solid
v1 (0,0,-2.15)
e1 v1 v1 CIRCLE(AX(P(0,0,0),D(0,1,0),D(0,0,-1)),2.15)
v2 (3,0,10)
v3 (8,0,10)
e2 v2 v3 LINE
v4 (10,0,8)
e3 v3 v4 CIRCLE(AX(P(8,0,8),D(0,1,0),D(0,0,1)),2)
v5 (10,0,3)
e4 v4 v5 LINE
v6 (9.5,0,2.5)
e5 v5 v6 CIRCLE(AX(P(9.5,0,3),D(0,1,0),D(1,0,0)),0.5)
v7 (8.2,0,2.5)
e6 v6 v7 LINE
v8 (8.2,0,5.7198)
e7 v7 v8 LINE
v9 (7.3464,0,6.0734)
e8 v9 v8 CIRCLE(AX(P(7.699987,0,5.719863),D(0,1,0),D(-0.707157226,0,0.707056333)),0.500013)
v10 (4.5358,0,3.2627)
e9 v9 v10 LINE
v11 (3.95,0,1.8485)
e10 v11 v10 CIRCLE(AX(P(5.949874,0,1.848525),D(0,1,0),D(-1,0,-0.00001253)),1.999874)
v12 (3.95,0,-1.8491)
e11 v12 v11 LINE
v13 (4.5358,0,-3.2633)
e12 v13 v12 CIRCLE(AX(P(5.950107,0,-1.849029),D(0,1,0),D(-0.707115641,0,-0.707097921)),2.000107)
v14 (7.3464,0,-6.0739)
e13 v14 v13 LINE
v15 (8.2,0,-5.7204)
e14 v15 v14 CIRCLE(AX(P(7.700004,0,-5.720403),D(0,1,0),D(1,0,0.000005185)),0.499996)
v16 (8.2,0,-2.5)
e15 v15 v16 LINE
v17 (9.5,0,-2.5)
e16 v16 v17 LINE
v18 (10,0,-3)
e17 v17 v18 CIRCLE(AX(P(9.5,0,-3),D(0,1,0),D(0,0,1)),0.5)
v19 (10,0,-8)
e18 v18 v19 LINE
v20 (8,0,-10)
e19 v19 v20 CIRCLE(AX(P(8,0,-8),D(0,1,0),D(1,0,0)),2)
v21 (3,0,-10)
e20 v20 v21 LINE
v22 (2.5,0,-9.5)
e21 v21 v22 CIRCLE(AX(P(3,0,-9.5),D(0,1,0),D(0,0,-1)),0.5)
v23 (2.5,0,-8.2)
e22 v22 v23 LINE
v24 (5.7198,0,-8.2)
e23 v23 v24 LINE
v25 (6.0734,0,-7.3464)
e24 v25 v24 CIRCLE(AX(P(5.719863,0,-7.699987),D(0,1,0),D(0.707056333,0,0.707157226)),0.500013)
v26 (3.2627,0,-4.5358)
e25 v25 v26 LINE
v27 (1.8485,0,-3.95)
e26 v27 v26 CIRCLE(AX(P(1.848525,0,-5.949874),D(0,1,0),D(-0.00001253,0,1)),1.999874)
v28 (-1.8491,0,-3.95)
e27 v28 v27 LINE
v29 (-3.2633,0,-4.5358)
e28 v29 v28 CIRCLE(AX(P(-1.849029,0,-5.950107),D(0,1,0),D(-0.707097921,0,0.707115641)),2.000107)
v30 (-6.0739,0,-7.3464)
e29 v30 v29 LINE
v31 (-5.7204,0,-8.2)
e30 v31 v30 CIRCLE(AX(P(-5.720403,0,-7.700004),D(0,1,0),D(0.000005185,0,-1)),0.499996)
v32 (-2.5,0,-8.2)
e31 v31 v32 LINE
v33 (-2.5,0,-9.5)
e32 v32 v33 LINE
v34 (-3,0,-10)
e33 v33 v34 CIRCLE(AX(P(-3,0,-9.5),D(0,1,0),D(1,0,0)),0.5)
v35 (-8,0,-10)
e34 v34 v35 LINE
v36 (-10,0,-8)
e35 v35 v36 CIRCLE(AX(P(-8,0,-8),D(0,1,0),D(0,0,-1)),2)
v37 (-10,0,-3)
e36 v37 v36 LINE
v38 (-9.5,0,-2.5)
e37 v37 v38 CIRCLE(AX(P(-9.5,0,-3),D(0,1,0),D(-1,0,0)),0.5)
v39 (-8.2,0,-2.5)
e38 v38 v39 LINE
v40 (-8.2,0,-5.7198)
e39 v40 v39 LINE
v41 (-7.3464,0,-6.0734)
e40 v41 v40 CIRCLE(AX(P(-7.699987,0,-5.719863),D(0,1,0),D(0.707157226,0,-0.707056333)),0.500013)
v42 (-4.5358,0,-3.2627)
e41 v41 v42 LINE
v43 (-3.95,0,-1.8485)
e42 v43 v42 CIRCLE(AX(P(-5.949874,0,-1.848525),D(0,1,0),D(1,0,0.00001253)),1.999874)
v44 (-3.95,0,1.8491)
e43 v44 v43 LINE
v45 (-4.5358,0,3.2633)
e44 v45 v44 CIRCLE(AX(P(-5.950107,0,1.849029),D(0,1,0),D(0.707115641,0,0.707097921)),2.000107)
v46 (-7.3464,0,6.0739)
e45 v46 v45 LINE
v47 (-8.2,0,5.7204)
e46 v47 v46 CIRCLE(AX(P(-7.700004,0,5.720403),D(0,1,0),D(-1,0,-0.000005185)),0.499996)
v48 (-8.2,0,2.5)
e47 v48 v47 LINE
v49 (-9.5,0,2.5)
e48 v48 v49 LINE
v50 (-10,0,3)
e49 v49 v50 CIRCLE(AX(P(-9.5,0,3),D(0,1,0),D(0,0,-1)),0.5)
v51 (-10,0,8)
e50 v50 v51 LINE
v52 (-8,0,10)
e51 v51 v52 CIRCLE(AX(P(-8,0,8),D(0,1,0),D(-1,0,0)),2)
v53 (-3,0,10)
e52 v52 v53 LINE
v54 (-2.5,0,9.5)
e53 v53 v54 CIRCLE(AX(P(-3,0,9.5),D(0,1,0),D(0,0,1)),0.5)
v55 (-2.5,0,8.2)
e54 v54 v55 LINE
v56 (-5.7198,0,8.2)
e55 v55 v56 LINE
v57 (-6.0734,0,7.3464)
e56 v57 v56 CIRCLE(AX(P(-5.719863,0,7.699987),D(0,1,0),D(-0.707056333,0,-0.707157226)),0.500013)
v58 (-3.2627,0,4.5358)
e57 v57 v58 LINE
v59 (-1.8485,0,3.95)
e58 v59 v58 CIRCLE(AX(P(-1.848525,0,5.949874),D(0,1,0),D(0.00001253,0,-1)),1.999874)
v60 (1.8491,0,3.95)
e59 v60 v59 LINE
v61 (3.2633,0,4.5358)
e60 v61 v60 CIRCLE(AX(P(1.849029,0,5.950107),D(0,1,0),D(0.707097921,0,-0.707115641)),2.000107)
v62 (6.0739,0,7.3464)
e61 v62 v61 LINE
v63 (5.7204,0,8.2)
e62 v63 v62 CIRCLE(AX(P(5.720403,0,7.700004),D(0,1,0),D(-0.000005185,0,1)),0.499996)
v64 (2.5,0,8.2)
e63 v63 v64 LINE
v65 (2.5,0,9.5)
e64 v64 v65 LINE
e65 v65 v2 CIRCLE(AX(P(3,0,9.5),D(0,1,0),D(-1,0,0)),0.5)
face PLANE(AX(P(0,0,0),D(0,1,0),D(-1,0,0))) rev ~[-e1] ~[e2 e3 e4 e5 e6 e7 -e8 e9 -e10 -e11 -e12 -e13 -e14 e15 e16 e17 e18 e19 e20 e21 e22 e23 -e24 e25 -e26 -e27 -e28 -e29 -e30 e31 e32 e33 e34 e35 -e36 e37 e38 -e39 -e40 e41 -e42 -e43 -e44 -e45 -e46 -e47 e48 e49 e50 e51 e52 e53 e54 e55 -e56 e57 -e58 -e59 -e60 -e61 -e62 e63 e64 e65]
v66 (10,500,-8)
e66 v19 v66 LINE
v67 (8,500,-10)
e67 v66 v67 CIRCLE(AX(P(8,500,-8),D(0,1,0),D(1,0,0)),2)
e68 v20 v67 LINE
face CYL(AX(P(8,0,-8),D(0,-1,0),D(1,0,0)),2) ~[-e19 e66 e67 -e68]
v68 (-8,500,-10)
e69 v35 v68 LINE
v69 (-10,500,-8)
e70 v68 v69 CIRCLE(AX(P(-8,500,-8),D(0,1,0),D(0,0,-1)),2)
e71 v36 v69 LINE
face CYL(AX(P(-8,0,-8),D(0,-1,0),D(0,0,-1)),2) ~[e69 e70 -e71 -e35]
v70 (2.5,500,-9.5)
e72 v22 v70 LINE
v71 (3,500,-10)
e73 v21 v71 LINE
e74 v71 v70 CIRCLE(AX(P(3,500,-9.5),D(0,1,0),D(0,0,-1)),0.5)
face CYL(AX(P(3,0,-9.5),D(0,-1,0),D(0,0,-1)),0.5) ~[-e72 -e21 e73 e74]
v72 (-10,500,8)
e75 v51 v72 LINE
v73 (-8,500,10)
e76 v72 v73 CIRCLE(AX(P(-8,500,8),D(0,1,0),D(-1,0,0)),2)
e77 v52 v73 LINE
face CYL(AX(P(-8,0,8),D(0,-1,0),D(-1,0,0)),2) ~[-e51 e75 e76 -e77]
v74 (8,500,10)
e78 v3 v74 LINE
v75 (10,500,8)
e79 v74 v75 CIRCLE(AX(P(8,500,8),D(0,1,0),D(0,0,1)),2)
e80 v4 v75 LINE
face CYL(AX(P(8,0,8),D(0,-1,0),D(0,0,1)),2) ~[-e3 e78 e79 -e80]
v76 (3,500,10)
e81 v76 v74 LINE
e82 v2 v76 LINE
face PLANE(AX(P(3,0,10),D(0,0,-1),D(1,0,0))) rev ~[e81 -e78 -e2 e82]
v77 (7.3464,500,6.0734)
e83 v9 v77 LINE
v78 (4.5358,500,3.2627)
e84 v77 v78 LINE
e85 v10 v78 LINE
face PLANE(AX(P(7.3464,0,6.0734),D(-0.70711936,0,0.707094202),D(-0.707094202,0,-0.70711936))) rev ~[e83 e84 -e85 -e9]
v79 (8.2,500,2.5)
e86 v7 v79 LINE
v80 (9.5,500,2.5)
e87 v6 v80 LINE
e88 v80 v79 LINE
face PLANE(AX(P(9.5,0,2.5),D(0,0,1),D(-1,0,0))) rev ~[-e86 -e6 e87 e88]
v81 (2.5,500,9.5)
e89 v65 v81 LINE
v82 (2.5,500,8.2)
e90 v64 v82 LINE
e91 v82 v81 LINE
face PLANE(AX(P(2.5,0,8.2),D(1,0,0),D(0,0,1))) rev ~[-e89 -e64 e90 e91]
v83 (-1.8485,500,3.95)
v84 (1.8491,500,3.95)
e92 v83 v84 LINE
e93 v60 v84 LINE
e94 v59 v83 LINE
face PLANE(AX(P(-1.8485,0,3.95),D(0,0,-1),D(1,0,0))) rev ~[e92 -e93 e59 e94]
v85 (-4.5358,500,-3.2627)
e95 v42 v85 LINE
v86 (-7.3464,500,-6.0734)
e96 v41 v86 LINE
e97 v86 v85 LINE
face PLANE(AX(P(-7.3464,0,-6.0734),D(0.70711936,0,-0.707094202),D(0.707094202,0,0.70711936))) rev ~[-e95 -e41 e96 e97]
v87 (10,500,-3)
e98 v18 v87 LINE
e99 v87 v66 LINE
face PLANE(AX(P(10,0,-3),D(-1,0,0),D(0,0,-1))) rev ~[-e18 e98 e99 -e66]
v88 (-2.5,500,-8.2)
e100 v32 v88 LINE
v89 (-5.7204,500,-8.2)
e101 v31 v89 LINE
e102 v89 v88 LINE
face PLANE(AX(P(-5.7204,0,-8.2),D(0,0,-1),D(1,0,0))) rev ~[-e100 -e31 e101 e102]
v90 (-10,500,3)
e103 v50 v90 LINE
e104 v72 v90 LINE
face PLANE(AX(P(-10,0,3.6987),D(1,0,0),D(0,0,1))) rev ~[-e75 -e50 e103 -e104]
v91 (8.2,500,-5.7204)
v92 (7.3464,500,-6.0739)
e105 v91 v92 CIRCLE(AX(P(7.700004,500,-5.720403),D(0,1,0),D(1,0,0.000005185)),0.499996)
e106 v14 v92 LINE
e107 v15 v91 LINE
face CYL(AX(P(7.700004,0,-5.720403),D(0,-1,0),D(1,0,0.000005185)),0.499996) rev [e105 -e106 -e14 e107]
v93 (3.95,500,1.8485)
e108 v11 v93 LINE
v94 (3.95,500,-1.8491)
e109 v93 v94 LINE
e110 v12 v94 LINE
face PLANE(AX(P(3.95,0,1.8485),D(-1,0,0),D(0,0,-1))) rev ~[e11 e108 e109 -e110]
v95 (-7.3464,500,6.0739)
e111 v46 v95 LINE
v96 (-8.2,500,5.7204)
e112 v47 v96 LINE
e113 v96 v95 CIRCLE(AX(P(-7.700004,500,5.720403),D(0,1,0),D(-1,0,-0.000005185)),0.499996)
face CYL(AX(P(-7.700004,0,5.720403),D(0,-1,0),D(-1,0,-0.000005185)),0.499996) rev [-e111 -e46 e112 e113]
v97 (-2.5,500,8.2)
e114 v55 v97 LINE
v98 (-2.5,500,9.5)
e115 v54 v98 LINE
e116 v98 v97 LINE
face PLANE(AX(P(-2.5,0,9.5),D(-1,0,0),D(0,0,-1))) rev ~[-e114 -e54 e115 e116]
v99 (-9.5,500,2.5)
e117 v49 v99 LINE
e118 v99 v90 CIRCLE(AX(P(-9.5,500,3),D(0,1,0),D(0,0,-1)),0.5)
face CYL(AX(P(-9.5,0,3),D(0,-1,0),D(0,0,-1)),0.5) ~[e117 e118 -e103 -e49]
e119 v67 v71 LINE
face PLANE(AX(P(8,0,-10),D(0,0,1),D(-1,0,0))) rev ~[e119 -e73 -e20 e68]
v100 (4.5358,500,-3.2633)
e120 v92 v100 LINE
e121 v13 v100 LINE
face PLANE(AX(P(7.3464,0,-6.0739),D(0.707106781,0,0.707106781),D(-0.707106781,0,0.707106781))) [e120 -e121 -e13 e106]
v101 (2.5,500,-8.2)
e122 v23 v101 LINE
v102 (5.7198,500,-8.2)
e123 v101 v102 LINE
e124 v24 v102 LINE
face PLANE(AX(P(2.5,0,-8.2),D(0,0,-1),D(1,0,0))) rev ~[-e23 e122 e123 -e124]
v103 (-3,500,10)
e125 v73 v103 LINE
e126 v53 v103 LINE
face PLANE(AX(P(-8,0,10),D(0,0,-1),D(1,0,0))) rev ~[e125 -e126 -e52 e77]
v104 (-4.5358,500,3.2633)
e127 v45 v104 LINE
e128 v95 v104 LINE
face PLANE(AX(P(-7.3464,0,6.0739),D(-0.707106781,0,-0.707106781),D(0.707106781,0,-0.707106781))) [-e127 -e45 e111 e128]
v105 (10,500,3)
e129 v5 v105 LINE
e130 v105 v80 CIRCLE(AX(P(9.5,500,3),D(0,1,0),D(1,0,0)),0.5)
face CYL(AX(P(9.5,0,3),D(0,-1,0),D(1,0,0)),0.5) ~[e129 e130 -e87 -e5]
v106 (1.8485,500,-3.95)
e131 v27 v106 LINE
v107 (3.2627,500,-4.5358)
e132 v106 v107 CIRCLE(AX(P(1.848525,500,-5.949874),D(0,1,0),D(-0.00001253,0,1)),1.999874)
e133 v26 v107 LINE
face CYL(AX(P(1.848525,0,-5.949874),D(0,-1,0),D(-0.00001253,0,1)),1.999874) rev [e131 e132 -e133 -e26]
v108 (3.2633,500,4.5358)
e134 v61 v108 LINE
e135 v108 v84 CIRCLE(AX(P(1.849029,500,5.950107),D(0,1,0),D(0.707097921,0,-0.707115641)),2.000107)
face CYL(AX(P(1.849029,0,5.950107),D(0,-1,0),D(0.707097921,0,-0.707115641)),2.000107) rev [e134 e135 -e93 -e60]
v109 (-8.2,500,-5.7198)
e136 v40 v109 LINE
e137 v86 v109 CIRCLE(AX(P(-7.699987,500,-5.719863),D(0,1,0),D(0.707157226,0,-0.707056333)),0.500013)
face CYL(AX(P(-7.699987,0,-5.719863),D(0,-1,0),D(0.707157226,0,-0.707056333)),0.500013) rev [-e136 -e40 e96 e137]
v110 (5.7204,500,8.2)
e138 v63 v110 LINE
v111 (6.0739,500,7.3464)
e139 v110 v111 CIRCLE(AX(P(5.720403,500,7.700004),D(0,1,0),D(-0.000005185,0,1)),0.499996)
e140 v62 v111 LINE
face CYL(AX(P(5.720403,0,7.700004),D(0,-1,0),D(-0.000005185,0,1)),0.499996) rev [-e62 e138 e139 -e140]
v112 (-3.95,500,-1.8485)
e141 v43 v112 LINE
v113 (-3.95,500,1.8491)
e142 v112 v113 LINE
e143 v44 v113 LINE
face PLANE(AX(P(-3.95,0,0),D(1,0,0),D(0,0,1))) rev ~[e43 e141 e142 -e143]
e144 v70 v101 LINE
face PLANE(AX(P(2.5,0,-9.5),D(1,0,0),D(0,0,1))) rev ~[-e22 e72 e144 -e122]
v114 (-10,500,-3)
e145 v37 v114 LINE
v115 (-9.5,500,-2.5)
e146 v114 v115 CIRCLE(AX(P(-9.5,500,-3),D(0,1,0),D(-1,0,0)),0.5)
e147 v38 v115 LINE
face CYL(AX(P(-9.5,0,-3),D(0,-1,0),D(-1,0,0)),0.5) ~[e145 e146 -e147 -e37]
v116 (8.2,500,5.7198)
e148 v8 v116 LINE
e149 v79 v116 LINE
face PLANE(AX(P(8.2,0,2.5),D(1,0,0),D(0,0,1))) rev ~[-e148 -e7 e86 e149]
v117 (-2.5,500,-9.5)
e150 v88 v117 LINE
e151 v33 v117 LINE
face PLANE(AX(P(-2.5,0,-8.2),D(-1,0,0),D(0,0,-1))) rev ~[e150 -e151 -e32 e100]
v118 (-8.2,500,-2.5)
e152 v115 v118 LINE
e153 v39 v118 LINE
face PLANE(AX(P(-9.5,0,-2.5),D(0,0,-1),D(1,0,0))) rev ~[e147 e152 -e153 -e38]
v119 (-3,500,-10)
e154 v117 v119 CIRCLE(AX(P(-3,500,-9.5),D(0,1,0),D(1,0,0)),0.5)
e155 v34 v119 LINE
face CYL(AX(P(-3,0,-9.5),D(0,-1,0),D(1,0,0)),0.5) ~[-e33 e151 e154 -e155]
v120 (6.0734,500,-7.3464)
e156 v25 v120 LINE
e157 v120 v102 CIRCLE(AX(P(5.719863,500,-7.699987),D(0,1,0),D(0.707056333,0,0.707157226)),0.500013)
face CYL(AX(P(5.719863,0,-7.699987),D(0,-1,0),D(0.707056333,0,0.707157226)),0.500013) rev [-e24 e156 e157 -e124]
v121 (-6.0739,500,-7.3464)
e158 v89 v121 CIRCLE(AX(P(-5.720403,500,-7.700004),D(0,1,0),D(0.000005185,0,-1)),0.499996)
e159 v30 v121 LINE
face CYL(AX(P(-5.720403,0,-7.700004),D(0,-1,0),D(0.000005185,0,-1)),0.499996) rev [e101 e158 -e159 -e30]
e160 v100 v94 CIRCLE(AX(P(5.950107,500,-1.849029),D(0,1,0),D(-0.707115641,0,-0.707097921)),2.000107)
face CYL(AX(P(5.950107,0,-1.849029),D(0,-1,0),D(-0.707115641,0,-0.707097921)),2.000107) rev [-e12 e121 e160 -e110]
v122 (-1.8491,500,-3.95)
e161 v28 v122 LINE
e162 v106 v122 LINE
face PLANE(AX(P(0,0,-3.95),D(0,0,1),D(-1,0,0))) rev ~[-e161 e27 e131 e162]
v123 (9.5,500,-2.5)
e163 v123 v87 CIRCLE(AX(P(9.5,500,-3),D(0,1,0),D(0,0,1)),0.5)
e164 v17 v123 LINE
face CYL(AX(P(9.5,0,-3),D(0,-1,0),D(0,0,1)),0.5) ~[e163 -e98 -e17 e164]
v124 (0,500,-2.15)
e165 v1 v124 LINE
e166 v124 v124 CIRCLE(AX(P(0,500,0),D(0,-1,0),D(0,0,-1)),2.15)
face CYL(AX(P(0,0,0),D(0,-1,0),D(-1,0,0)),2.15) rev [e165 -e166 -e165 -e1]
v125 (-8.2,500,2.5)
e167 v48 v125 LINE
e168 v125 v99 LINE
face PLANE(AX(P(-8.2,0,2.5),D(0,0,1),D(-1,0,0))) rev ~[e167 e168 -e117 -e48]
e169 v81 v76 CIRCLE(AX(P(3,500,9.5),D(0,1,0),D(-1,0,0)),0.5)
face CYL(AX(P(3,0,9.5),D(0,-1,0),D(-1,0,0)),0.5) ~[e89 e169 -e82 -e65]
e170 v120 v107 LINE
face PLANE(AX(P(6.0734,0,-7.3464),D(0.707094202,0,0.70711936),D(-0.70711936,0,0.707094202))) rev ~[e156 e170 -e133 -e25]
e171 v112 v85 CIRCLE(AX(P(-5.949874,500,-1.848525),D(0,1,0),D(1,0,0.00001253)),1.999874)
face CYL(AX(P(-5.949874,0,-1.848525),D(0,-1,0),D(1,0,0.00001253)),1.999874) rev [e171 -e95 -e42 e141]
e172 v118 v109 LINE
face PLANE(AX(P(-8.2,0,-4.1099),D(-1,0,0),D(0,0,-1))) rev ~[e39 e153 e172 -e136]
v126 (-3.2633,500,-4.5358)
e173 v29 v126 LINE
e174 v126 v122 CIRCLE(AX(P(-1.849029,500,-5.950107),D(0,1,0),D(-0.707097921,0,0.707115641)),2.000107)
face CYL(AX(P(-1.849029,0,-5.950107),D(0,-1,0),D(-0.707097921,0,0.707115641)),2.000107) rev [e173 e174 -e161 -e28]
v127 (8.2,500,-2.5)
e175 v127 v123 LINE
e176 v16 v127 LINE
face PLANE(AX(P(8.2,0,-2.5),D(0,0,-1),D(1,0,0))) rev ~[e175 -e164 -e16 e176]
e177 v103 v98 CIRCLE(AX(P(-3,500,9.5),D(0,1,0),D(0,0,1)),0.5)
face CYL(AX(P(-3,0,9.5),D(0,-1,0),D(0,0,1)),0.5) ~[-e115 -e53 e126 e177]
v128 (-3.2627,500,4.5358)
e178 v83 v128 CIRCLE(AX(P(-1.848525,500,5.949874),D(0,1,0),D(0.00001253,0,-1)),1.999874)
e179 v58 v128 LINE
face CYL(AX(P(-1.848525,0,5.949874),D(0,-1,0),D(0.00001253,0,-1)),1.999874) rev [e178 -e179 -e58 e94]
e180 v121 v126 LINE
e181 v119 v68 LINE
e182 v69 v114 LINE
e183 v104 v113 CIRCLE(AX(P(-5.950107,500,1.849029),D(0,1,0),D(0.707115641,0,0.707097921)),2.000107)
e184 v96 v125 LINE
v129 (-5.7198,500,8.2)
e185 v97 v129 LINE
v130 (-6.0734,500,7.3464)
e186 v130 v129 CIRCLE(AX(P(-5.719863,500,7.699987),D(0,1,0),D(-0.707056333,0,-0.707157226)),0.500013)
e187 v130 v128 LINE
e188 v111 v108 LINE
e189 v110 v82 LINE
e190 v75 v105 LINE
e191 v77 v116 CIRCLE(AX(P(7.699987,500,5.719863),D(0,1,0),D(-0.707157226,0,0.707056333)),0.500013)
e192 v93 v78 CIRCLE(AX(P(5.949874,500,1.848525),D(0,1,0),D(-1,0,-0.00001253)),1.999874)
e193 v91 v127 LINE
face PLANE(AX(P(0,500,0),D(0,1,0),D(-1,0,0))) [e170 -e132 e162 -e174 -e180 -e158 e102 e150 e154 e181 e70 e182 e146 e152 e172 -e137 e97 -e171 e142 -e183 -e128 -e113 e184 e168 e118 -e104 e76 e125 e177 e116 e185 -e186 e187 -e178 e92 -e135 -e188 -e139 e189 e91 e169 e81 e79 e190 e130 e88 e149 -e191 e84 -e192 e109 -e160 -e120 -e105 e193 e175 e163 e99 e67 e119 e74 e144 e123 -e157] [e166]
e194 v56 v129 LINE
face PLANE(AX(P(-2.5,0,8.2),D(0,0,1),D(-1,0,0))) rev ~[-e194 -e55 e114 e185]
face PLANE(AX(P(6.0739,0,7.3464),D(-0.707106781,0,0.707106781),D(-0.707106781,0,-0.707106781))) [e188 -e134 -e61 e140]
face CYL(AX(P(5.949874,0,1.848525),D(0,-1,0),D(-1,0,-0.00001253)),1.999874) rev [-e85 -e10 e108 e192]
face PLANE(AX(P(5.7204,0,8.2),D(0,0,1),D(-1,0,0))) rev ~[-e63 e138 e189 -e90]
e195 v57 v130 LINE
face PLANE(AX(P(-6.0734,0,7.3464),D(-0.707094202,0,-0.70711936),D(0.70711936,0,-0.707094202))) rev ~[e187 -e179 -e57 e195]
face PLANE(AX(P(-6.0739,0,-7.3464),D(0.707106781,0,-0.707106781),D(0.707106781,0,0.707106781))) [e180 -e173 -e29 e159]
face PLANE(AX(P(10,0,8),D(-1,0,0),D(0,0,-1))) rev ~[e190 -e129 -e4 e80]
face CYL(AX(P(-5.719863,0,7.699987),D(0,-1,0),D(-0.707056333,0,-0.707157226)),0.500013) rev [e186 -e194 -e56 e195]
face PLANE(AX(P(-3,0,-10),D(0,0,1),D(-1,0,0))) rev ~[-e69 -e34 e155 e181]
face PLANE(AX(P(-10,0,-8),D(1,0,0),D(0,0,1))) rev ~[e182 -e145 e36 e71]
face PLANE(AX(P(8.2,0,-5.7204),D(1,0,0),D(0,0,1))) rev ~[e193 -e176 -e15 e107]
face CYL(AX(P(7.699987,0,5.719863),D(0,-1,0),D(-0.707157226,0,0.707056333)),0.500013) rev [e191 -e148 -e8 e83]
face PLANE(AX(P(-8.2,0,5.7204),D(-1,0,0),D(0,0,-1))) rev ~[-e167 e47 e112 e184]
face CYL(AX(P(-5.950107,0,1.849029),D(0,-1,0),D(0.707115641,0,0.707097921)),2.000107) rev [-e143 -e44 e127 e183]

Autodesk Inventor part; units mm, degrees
ref_plane "YZ Plane" through (0, 0, 0) normal (1, 0, 0) x (0, 1, 0)
ref_plane "XZ Plane" through (0, 0, 0) normal (0, 1, 0) x (-1, 0, 0)
ref_plane "XY Plane" through (0, 0, 0) normal (0, 0, 1) x (1, 0, 0)
sketch "Sketch1" plane through (0, 0, 0) normal (0, 1, 0) x (-1, 0, 0)
  line L0 (8, 10) -> (3, 10)
  line L1 (10, 3) -> (10, 8)
  line L2 (2.5, 9.5) -> (2.5, 8.2)
  line L3 (2.5, 8.2) -> (5.7198, 8.2)
  line L4 (6.0734, 7.3464) -> (3.2627, 4.5358)
  line L5 (1.8485, 3.95) -> (0, 3.95)
  line L6 (0, 3.95) -> (0, 2.15)
  line L7 (0, 2.15) -> (0, 2.15)
  line L8 (2.15, 0) -> (2.15, 0)
  line L9 (2.15, 0) -> (3.95, 0)
  line L10 (8.2, 5.7204) -> (8.2, 2.5)
  line L11 (8.2, 2.5) -> (9.5, 2.5)
  line L12 (0, 29.0836) -> (0, -4.1523) construction
  line L13 (3.95, 0) -> (3.95, 1.8491)
  line L14 (7.3464, 6.0739) -> (4.5358, 3.2633)
  arc A0 (10, 8) -> (8, 10) centre (8, 8) ccw
  arc A1 (8.2, 5.7204) -> (7.3464, 6.0739) centre (7.7, 5.7204) ccw
  arc A2 (6.0734, 7.3464) -> (5.7198, 8.2) centre (5.7198, 7.7) ccw
  arc A3 (4.5358, 3.2633) -> (3.95, 1.8491) centre (5.95, 1.8491) ccw
  arc A4 (1.8485, 3.95) -> (3.2627, 4.5358) centre (1.8485, 5.95) ccw
  arc A5 (2.15, 0) -> (0, 2.15) centre (0, 0) ccw
  arc A6 (3, 10) -> (2.5, 9.5) centre (3, 9.5) ccw
  arc A7 (9.5, 2.5) -> (10, 3) centre (9.5, 3) ccw
  line L15 (18.5462, 0) -> (-9.9601, 0) construction
  line L16 (-3, 10) -> (-8, 10)
  arc A8 (-2.5, 9.5) -> (-3, 10) centre (-3, 9.5) ccw
  line L17 (-2.5, 8.2) -> (-2.5, 9.5)
  line L18 (-5.7204, 8.2) -> (-2.5, 8.2)
  arc A9 (-5.7204, 8.2) -> (-6.0739, 7.3464) centre (-5.7204, 7.7) ccw
  line L19 (-6.0739, 7.3464) -> (-3.2633, 4.5358)
  arc A10 (-3.2633, 4.5358) -> (-1.8491, 3.95) centre (-1.8491, 5.95) ccw
  line L20 (0, 3.95) -> (-1.8491, 3.95)
  line L21 (0, 2.15) -> (0, 3.95)
  arc A11 (0, 2.15) -> (-2.15, 0) centre (0, 0) ccw
  line L22 (-3.95, 0) -> (-2.15, 0)
  line L23 (-3.95, 1.8485) -> (-3.95, 0)
  arc A12 (-3.95, 1.8485) -> (-4.5358, 3.2627) centre (-5.95, 1.8485) ccw
  line L24 (-7.3464, 6.0734) -> (-4.5358, 3.2627)
  arc A13 (-7.3464, 6.0734) -> (-8.2, 5.7198) centre (-7.7, 5.7198) ccw
  line L25 (-8.2, 2.5) -> (-8.2, 5.7198)
  line L26 (-9.5, 2.5) -> (-8.2, 2.5)
  arc A14 (-10, 3) -> (-9.5, 2.5) centre (-9.5, 3) ccw
  line L27 (-10, 8) -> (-10, 3)
  arc A15 (-8, 10) -> (-10, 8) centre (-8, 8) ccw
  line L28 (-10, -3) -> (-10, -8)
  arc A16 (-9.5, -2.5) -> (-10, -3) centre (-9.5, -3) ccw
  line L29 (-8.2, -2.5) -> (-9.5, -2.5)
  line L30 (-8.2, -5.7204) -> (-8.2, -2.5)
  arc A17 (-8.2, -5.7204) -> (-7.3464, -6.0739) centre (-7.7, -5.7204) ccw
  line L31 (-7.3464, -6.0739) -> (-4.5358, -3.2633)
  arc A18 (-4.5358, -3.2633) -> (-3.95, -1.8491) centre (-5.95, -1.8491) ccw
  line L32 (-3.95, 0) -> (-3.95, -1.8491)
  line L33 (-2.15, 0) -> (-3.95, 0)
  arc A19 (-2.15, 0) -> (0, -2.15) centre (0, 0) ccw
  line L34 (0, -3.95) -> (0, -2.15)
  line L35 (-1.8485, -3.95) -> (0, -3.95)
  arc A20 (-1.8485, -3.95) -> (-3.2627, -4.5358) centre (-1.8485, -5.95) ccw
  line L36 (-6.0734, -7.3464) -> (-3.2627, -4.5358)
  arc A21 (-6.0734, -7.3464) -> (-5.7198, -8.2) centre (-5.7198, -7.7) ccw
  line L37 (-2.5, -8.2) -> (-5.7198, -8.2)
  line L38 (-2.5, -9.5) -> (-2.5, -8.2)
  arc A22 (-3, -10) -> (-2.5, -9.5) centre (-3, -9.5) ccw
  line L39 (-8, -10) -> (-3, -10)
  arc A23 (-10, -8) -> (-8, -10) centre (-8, -8) ccw
  line L40 (3, -10) -> (8, -10)
  arc A24 (2.5, -9.5) -> (3, -10) centre (3, -9.5) ccw
  line L41 (2.5, -8.2) -> (2.5, -9.5)
  line L42 (5.7204, -8.2) -> (2.5, -8.2)
  arc A25 (5.7204, -8.2) -> (6.0739, -7.3464) centre (5.7204, -7.7) ccw
  line L43 (6.0739, -7.3464) -> (3.2633, -4.5358)
  arc A26 (3.2633, -4.5358) -> (1.8491, -3.95) centre (1.8491, -5.95) ccw
  line L44 (0, -3.95) -> (1.8491, -3.95)
  line L45 (0, -2.15) -> (0, -3.95)
  arc A27 (0, -2.15) -> (2.15, 0) centre (0, 0) ccw
  line L46 (3.95, 0) -> (2.15, 0)
  line L47 (3.95, -1.8485) -> (3.95, 0)
  arc A28 (3.95, -1.8485) -> (4.5358, -3.2627) centre (5.95, -1.8485) ccw
  line L48 (7.3464, -6.0734) -> (4.5358, -3.2627)
  arc A29 (7.3464, -6.0734) -> (8.2, -5.7198) centre (7.7, -5.7198) ccw
  line L49 (8.2, -2.5) -> (8.2, -5.7198)
  line L50 (9.5, -2.5) -> (8.2, -2.5)
  arc A30 (10, -3) -> (9.5, -2.5) centre (9.5, -3) ccw
  line L51 (10, -8) -> (10, -3)
  arc A31 (8, -10) -> (10, -8) centre (8, -8) ccw
  line L52 (8.2, 3.6987) -> (10, 3.6987)
  line L53 (10, 3.6987) -> (10, -4.1099)
  line L54 (10, -4.1099) -> (8.2, -4.1099)
  line L55 (8.2, -4.1099) -> (8.2, 3.6987)
  point P0 (0, 0)
  point P1 (3.95, 2.6775)
  point P2 (-2.6775, 3.95)
  point P3 (0, 0)
  point P4 (-3.95, -2.6775)
  point P5 (0, 0)
  point P6 (2.6775, -3.95)
  point P7 (0, 0)
  dimension "d1" = 2.5
  dimension "d2" = 2.5
  dimension "d3" = 1.8
  dimension "d4" = 1.8
  dimension "d5" = 45
  dimension "d6" = 2.15
  dimension "d7" = 2.15
  dimension "d8" = 1.8
  dimension "d11" = 10
  dimension "d12" = 10
  dimension "d14" = 1.8
  dimension "d15" = 1.8
  dimension "d16" = 2.6775
  dimension "d18" = 2
  dimension "d19" = 0.5
  dimension "d20" = 2
  dimension "d21" = 2.15
  dimension "d22" = 0.5
  dimension "d25" = 360
extrude "Profil_20x20" add sketch "Sketch1" along normal blind 500 contours A0 L1 L52 L10 A1 L14 A3 L13 L9 A5 L6 L5 A4 L4 A2 L3 L2 A6 L0 | L1 A7 L11 L10 L52 | L51 L54 L49 L50 A30 | L51 A31 L40 A24 L41 L42 A25 L43 A26 L44 L34 A27 L9 L47 A28 L48 A29 L49 L54 | L6 A11 L22 L23 A12 L24 A13 L25 L26 A14 L27 A15 L16 A8 L17 L18 A9 L19 A10 L20 | A19 L34 L35 A20 L36 A21 L37 L38 A22 L39 A23 L28 A16 L29 L30 A17 L31 A18 L32 L22
properties part number "Profil_20x20_500"
